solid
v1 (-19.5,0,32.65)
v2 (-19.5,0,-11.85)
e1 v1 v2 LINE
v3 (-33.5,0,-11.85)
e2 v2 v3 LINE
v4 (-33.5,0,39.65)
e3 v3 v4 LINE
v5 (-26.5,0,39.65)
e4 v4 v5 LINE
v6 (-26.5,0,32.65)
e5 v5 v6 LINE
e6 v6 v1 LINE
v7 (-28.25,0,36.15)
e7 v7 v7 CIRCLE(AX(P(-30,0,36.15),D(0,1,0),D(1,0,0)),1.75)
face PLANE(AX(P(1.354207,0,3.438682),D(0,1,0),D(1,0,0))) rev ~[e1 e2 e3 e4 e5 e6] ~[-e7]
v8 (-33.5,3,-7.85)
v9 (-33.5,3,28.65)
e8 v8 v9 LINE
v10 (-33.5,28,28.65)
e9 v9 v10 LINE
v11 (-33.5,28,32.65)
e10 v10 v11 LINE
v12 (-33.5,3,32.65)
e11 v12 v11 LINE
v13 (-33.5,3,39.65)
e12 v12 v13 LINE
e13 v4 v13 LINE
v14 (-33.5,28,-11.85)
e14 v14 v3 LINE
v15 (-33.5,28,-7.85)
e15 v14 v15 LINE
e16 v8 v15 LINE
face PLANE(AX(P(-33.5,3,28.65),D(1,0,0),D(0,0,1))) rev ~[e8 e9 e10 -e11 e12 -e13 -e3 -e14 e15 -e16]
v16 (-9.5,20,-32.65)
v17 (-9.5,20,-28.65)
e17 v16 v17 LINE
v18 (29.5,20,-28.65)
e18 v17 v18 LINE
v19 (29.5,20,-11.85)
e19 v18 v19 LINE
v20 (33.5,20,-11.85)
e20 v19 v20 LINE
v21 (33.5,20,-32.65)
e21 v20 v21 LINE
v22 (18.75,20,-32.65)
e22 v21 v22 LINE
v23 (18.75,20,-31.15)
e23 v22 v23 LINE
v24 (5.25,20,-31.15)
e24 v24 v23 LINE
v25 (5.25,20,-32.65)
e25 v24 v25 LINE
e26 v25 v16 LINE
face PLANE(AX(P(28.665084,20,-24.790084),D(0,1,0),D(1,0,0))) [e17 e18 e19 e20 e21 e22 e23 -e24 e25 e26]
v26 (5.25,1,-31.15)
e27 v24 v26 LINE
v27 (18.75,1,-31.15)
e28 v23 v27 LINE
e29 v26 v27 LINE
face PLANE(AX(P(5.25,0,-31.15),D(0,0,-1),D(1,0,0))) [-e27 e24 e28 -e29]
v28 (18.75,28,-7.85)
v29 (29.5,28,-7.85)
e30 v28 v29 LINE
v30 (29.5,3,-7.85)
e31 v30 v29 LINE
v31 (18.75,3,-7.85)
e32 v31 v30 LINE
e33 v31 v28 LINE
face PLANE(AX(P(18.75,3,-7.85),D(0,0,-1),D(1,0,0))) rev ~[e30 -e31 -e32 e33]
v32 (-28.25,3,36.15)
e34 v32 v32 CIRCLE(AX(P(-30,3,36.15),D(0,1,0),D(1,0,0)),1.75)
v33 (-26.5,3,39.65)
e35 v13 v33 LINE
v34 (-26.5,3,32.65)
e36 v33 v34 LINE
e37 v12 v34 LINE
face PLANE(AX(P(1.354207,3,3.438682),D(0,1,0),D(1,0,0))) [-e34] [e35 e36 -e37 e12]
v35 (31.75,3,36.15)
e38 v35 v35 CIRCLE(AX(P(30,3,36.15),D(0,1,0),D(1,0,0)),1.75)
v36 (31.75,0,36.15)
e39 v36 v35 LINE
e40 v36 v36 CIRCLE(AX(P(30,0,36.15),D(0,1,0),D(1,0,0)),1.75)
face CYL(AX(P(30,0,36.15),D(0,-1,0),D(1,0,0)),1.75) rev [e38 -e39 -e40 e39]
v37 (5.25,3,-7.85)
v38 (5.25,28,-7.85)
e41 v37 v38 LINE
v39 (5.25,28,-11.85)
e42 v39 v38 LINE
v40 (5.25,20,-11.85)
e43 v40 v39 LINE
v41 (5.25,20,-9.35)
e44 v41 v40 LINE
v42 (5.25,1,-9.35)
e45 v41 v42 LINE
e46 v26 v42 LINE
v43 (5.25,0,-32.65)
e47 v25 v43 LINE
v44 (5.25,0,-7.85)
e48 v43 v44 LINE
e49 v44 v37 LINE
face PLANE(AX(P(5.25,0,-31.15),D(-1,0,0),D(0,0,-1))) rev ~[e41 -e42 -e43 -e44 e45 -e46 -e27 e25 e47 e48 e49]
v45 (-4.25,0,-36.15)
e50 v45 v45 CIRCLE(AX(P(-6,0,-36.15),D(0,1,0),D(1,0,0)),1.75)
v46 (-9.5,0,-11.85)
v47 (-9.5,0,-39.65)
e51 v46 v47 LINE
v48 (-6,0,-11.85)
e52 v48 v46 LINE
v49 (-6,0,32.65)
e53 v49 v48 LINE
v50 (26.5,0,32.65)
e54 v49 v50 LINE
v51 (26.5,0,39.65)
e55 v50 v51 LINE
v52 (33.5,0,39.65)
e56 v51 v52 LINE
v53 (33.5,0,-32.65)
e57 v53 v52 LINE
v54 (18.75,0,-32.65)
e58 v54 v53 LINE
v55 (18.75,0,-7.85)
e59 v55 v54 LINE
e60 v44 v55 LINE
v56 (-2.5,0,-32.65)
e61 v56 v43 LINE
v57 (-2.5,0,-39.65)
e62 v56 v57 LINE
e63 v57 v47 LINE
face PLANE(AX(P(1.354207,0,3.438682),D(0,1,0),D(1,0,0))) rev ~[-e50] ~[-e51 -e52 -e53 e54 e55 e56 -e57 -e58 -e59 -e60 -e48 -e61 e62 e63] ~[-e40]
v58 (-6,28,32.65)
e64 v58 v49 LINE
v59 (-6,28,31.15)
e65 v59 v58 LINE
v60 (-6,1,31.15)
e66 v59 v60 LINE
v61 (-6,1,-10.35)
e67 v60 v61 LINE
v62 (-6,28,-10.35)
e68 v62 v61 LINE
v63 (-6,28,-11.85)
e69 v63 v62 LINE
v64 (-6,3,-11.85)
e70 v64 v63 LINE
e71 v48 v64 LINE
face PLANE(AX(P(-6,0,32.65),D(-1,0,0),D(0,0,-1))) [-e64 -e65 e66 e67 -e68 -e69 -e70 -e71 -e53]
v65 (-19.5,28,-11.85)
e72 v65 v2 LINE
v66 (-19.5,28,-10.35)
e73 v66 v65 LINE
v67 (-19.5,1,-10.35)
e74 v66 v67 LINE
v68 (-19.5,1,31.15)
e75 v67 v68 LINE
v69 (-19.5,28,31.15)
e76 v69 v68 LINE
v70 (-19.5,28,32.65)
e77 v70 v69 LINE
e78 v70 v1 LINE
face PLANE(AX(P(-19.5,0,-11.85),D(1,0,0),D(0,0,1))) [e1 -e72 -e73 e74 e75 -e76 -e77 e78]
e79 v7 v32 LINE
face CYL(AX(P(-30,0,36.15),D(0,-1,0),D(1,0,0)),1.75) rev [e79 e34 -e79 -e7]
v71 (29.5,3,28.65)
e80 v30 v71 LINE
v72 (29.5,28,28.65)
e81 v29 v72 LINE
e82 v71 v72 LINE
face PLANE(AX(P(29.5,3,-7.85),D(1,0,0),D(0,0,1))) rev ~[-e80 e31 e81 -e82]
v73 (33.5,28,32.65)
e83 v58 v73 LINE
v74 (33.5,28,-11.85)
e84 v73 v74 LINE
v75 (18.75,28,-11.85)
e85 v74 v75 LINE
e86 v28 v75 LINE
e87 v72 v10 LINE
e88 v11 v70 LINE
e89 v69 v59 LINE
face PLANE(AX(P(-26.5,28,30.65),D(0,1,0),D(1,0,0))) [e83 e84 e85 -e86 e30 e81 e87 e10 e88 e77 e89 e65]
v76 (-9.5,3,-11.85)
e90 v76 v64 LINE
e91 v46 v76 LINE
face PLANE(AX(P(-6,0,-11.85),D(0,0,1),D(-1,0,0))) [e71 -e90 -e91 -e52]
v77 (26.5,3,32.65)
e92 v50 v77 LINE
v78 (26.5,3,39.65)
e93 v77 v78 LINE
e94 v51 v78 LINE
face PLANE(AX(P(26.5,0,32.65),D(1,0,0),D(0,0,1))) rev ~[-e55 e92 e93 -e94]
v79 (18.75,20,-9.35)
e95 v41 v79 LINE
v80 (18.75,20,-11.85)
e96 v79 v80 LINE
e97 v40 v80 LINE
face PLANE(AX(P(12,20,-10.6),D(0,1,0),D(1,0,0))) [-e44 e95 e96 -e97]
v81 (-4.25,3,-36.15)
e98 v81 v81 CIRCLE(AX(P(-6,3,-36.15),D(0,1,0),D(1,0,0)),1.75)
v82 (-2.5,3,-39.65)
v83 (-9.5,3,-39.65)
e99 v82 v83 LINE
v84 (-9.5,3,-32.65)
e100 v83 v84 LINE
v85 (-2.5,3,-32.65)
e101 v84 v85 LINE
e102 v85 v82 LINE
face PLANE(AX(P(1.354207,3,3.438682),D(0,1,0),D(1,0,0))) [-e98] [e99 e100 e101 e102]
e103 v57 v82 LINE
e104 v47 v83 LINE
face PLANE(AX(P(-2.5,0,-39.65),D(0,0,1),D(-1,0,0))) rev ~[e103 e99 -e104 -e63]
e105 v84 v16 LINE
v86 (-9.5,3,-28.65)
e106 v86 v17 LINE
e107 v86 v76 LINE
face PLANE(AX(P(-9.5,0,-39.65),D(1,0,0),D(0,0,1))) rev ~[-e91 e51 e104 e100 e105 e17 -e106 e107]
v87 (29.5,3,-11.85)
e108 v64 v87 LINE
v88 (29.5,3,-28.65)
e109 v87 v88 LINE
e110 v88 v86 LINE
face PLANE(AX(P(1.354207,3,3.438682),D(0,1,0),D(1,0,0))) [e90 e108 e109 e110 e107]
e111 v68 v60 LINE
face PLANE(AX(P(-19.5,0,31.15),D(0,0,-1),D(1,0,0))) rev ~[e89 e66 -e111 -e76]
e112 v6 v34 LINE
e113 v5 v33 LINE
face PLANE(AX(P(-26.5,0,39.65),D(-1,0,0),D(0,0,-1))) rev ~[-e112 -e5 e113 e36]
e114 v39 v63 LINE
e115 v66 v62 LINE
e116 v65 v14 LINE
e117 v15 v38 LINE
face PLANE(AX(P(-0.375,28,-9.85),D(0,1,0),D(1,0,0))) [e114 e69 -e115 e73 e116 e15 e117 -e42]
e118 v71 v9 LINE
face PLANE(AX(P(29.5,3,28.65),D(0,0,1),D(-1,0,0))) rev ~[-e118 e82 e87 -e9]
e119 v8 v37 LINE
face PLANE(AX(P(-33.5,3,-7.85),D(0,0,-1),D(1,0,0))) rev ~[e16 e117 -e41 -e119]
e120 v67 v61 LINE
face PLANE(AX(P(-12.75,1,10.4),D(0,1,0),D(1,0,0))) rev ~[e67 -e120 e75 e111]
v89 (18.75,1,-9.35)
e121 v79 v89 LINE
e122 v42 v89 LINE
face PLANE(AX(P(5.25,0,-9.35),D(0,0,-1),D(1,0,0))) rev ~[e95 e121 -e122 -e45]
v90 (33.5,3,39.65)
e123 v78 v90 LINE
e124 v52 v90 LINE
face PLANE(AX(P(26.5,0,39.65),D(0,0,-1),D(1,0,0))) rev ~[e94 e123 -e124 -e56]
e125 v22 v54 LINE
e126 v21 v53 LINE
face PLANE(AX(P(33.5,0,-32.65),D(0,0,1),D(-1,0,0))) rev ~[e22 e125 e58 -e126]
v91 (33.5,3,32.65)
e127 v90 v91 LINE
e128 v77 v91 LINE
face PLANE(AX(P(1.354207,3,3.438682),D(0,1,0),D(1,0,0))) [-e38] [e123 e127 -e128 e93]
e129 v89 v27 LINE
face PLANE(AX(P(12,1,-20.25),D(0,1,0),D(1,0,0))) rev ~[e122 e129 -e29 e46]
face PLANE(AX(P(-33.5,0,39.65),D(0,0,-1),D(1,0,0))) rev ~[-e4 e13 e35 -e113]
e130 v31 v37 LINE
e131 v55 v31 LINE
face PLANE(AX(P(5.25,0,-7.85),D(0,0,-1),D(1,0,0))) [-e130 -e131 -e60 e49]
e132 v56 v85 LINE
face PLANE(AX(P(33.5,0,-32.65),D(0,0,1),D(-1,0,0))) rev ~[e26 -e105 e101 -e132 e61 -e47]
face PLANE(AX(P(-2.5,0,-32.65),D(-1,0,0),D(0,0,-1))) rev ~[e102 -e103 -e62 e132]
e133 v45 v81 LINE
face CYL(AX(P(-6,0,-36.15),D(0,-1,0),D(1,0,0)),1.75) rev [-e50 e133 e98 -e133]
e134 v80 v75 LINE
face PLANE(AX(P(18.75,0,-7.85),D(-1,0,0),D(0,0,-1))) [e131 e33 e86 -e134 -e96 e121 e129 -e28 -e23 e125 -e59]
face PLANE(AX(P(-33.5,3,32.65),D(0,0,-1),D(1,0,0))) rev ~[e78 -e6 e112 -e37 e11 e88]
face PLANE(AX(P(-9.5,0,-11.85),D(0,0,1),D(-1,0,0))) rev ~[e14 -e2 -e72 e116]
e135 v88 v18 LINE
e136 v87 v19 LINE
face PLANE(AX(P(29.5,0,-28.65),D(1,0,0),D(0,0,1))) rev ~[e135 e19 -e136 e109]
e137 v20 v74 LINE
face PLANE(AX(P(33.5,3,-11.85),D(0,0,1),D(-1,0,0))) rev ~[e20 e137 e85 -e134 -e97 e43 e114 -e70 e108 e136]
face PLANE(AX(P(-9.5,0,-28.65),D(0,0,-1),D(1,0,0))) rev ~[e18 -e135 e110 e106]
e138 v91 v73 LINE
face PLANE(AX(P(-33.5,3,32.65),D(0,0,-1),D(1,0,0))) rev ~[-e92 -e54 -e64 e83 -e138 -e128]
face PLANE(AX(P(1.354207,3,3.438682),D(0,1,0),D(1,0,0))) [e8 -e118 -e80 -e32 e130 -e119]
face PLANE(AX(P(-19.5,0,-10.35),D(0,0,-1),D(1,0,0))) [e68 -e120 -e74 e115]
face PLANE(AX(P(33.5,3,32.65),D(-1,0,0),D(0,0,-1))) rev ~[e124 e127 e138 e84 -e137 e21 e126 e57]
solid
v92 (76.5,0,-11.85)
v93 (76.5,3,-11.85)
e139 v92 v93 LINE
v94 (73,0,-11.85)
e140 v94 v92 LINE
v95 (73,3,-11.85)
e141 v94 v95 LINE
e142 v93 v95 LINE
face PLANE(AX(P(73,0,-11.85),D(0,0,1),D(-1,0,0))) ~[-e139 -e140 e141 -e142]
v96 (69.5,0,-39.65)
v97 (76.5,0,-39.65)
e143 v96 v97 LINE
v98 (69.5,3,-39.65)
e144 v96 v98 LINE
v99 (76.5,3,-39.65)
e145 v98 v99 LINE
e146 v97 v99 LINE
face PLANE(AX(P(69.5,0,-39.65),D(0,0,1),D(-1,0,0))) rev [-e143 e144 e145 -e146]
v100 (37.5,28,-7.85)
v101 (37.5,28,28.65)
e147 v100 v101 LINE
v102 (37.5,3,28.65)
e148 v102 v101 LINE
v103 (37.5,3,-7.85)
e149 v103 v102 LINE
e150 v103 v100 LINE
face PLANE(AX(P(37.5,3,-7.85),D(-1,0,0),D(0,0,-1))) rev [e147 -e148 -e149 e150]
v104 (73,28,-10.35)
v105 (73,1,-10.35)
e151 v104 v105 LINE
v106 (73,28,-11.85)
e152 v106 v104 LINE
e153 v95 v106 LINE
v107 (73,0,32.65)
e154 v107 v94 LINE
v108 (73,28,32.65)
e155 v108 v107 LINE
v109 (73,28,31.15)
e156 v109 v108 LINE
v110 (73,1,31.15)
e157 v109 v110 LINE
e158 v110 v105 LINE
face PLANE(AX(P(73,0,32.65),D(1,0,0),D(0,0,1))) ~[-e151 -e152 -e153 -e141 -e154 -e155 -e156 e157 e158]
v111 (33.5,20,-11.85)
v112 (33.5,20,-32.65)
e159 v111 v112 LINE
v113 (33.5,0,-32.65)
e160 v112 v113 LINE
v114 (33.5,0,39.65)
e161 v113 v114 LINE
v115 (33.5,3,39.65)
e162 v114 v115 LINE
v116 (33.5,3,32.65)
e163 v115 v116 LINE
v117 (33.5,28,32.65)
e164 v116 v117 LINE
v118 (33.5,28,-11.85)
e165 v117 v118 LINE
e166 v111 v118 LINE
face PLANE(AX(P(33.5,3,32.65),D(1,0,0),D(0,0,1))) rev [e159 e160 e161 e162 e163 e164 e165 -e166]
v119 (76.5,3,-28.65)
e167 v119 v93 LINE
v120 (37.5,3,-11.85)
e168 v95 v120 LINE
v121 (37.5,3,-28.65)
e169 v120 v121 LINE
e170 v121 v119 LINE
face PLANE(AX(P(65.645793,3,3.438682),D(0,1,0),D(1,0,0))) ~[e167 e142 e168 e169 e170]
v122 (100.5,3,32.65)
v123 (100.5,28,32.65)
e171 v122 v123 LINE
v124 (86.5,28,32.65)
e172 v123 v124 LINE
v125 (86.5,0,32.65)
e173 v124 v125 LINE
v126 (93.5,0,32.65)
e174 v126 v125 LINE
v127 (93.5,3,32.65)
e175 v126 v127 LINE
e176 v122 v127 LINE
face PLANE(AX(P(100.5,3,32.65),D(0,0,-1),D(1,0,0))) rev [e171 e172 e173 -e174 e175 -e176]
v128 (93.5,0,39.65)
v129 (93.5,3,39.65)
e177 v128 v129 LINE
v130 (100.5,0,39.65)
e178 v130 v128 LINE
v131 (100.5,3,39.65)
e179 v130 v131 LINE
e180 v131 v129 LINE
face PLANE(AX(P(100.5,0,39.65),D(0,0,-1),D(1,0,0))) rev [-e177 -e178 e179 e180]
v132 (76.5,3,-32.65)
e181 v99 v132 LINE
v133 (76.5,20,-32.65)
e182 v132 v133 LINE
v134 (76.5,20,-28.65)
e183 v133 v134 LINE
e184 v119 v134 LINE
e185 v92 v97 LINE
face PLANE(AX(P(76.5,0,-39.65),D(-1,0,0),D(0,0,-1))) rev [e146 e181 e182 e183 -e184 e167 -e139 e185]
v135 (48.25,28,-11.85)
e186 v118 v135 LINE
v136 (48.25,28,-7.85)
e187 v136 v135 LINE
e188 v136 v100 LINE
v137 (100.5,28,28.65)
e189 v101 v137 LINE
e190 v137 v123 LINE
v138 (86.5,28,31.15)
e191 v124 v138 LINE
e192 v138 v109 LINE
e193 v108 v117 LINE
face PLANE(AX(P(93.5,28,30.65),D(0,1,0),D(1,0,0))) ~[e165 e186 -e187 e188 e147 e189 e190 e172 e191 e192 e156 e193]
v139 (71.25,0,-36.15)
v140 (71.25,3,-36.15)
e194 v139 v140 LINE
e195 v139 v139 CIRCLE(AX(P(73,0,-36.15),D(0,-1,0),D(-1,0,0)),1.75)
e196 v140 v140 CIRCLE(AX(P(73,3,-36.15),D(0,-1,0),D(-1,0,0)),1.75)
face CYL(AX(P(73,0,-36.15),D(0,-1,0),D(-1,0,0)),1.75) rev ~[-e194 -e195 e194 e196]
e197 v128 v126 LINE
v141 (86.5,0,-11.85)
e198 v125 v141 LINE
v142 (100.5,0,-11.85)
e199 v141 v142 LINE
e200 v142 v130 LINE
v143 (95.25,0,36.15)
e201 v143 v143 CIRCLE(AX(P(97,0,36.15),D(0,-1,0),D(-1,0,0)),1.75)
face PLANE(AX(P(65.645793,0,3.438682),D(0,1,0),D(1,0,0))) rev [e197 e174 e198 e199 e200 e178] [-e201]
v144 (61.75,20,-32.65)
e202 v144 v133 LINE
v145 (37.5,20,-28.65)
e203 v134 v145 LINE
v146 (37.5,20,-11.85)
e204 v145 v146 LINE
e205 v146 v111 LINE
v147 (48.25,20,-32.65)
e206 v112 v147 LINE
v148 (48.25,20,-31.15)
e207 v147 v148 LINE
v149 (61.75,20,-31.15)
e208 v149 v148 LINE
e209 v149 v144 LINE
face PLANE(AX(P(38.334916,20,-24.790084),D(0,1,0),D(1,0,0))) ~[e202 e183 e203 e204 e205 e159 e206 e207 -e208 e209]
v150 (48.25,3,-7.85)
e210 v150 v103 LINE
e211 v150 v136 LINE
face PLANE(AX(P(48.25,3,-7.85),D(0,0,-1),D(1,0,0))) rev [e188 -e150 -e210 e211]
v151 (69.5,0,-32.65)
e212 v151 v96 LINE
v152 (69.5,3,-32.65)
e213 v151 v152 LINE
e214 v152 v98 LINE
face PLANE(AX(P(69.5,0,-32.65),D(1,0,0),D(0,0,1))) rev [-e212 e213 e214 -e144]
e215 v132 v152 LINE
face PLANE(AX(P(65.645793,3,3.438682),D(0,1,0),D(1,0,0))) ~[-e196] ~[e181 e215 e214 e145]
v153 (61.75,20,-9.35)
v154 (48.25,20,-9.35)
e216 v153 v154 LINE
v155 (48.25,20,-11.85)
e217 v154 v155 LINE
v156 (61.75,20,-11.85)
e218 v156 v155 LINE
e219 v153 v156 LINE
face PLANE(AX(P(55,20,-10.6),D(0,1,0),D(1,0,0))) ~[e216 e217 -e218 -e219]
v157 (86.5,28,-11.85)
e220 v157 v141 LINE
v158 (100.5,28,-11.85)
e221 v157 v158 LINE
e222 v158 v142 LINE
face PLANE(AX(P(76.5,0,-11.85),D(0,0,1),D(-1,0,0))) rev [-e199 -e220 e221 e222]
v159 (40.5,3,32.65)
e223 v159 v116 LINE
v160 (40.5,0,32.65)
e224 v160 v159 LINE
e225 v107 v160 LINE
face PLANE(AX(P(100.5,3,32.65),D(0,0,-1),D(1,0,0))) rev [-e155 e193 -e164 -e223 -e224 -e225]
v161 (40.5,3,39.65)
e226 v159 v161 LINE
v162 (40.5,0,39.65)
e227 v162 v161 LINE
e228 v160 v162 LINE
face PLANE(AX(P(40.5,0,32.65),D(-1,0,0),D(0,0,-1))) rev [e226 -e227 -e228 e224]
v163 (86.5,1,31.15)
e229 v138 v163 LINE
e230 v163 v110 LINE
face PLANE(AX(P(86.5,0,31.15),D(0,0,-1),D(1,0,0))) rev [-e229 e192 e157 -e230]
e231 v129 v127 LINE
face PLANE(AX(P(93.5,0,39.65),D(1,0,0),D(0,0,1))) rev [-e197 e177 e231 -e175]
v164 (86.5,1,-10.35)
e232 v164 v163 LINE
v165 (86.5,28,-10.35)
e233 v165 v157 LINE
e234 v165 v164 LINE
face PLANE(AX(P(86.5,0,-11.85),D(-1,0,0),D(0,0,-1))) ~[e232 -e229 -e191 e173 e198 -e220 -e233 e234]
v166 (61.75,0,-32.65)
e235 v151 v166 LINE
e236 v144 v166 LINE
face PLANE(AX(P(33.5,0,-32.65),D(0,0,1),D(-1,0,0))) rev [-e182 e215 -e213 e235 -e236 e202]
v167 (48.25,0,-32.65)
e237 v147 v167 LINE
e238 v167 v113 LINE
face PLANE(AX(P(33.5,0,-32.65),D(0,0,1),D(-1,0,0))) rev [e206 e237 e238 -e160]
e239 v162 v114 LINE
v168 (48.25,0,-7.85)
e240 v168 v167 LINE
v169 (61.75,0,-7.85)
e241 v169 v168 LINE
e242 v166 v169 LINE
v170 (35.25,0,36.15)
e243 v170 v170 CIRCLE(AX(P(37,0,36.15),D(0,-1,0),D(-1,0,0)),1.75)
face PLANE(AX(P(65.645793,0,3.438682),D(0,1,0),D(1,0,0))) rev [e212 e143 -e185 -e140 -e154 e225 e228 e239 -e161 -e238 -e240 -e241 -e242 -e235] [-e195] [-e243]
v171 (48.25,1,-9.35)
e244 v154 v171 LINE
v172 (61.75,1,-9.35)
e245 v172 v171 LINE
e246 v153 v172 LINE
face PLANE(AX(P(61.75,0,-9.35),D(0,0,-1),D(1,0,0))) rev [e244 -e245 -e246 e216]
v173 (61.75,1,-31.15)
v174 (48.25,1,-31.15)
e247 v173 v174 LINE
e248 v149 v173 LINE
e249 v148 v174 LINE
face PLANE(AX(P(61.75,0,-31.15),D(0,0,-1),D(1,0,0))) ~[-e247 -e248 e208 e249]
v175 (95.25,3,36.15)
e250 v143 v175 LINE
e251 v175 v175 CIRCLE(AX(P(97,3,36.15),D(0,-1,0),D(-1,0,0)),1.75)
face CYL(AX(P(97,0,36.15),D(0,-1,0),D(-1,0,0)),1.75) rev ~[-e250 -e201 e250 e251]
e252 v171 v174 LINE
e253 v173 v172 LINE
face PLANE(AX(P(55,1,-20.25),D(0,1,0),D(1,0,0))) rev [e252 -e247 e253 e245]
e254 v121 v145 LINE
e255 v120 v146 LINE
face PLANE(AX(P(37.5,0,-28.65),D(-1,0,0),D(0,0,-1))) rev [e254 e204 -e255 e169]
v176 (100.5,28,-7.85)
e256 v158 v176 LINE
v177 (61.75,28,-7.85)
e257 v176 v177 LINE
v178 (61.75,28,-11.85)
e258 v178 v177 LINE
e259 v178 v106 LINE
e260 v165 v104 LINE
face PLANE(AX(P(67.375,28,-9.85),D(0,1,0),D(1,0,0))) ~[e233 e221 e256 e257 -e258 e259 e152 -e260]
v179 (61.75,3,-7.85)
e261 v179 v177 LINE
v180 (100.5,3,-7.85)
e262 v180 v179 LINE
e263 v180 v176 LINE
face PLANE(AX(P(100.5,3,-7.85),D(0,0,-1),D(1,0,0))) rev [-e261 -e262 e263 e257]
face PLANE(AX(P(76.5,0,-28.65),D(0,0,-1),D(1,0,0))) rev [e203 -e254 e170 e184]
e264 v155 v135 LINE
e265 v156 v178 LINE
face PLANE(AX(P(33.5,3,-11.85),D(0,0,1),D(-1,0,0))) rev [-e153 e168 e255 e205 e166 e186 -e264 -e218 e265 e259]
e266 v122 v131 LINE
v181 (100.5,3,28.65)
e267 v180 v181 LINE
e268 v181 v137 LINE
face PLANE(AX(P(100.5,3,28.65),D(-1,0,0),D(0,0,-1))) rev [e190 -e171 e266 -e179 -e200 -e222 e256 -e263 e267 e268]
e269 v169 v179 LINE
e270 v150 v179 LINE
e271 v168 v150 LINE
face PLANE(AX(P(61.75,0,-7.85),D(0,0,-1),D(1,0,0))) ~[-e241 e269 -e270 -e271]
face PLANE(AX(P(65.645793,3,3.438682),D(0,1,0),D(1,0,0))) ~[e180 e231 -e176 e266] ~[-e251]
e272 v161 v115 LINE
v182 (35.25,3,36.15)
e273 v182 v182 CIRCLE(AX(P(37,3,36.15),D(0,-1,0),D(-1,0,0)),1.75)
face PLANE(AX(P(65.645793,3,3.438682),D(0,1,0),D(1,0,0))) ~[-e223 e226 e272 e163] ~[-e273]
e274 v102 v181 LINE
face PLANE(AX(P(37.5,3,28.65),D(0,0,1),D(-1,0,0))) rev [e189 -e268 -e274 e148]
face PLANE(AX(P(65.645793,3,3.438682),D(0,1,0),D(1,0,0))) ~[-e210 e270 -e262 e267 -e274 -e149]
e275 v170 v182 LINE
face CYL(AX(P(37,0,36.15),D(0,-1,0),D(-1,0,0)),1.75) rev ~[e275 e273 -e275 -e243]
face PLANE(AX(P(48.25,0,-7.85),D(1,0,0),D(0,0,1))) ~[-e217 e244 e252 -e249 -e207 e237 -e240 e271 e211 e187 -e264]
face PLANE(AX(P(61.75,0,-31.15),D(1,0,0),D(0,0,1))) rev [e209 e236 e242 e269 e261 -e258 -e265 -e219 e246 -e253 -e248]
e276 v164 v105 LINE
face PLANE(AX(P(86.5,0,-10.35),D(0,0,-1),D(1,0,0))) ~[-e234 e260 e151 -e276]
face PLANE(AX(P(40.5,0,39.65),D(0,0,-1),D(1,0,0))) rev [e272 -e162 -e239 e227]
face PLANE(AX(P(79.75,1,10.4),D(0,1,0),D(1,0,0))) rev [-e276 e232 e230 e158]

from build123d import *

# Parameters (mm, degrees)
SKETCH1_R               = 1.75
BOSS_EXTRUDE1_DEPTH     = 3
BOSS_EXTRUDE2_START     = 3
SKETCH1_5_W             = 13.5
SKETCH1_5_H             = 2.5
BOSS_EXTRUDE2_DEPTH     = 25
SKETCH1_6_W             = 13.5
SKETCH1_6_H             = 2.5
BOSS_EXTRUDE3_DEPTH     = 20
SKETCH1_7_W             = 13.5
SKETCH1_7_H             = 1.5
CUT_EXTRUDE1_DEPTH      = 29
CUT_EXTRUDE1_DEPTH_BACK = 1
SKETCH1_8_W             = 13.5
SKETCH1_8_H             = 16.8
SKETCH1_8_H_2           = 2.5
SKETCH1_8_H_3           = 36.5
CUT_EXTRUDE2_DEPTH      = 1


with BuildPart() as part:
    # Sketch1 → Boss-Extrude1 (new body)
    with BuildSketch(Plane(origin=(0, 0, 0), x_dir=(1, 0, 0), z_dir=(0, 1, 0))):
        Polygon((-33.5, 11.85), (-33.5, -39.65), (-26.5, -39.65), (-26.5, -32.65), (26.5, -32.65), (26.5, -39.65), (33.5, -39.65), (33.5, 32.65), (-2.5, 32.65), (-2.5, 39.65), (-9.5, 39.65), (-9.5, 11.85), align=None)
        with Locations((-30, -36.15)):
            Circle(SKETCH1_R, mode=Mode.SUBTRACT)
        with Locations((30, -36.15)):
            Circle(SKETCH1_R, mode=Mode.SUBTRACT)
        with Locations((-6, 36.15)):
            Circle(SKETCH1_R, mode=Mode.SUBTRACT)
    extrude(amount=BOSS_EXTRUDE1_DEPTH)

    # Sketch1<5> → Boss-Extrude2 (add)
    with BuildSketch(Plane(origin=(0, 0, 0), x_dir=(1, 0, 0), z_dir=(0, 1, 0)).offset(BOSS_EXTRUDE2_START)):
        Polygon((-19.5, -31.15), (-19.5, -28.65), (-33.5, -28.65), (-33.5, -32.65), (-26.5, -32.65), (-19.5, -32.65), align=None)
        with Locations((-12.75, -29.9)):
            Rectangle(SKETCH1_5_W, SKETCH1_5_H)
        Polygon((18.75, 9.35), (18.75, 7.85), (29.5, 7.85), (29.5, -28.65), (-6, -28.65), (-6, -31.15), (-6, -32.65), (26.5, -32.65), (33.5, -32.65), (33.5, 11.85), (29.5, 11.85), (18.75, 11.85), align=None)
        Polygon((-6, 7.85), (5.25, 7.85), (5.25, 9.35), (5.25, 11.85), (-6, 11.85), (-6, 10.35), align=None)
        with Locations((-12.75, 9.1)):
            Rectangle(SKETCH1_5_W, SKETCH1_5_H)
        Polygon((-33.5, 7.85), (-19.5, 7.85), (-19.5, 10.35), (-19.5, 11.85), (-33.5, 11.85), align=None)
    extrude(amount=BOSS_EXTRUDE2_DEPTH)

    # Sketch1<6> → Boss-Extrude3 (add)
    with BuildSketch(Plane(origin=(0, 0, 0), x_dir=(1, 0, 0), z_dir=(0, 1, 0))):
        Polygon((29.5, 28.65), (29.5, 11.85), (33.5, 11.85), (33.5, 32.65), (18.75, 32.65), (18.75, 31.15), (18.75, 28.65), align=None)
        Polygon((-9.5, 28.65), (5.25, 28.65), (5.25, 31.15), (5.25, 32.65), (-2.5, 32.65), (-9.5, 32.65), align=None)
        with Locations((12, 29.9)):
            Rectangle(SKETCH1_6_W, SKETCH1_6_H)
        with Locations((12, 10.6)):
            Rectangle(SKETCH1_6_W, SKETCH1_6_H)
    extrude(amount=BOSS_EXTRUDE3_DEPTH)

    # Sketch1<7> → Cut-Extrude1 (cut, two sides)
    with BuildSketch(Plane(origin=(0, 0, 0), x_dir=(1, 0, 0), z_dir=(0, 1, 0))) as cut_extrude1_sk:
        with Locations((12, 31.9)):
            Rectangle(SKETCH1_7_W, SKETCH1_7_H)
        with Locations((12, 8.6)):
            Rectangle(SKETCH1_7_W, SKETCH1_7_H)
        Polygon((-19.5, 10.35), (-6, 10.35), (-6, 11.85), (-9.5, 11.85), (-19.5, 11.85), align=None)
        with Locations((-12.75, -31.9)):
            Rectangle(SKETCH1_7_W, SKETCH1_7_H)
    extrude(amount=CUT_EXTRUDE1_DEPTH, mode=Mode.SUBTRACT)
    extrude(cut_extrude1_sk.sketch, amount=-CUT_EXTRUDE1_DEPTH_BACK, mode=Mode.SUBTRACT)

    # Sketch1<8> → Cut-Extrude2 (cut)
    with BuildSketch(Plane(origin=(0, 0, 0), x_dir=(1, 0, 0), z_dir=(0, 1, 0))):
        with Locations((12, 20.25)):
            Rectangle(SKETCH1_8_W, SKETCH1_8_H)
        with Locations((12, 29.9)):
            Rectangle(SKETCH1_8_W, SKETCH1_8_H_2)
        with Locations((12, 10.6)):
            Rectangle(SKETCH1_8_W, SKETCH1_8_H_2)
        with Locations((-12.75, -10.4)):
            Rectangle(SKETCH1_8_W, SKETCH1_8_H_3)
        with Locations((-12.75, 9.1)):
            Rectangle(SKETCH1_8_W, SKETCH1_8_H_2)
        with Locations((-12.75, -29.9)):
            Rectangle(SKETCH1_8_W, SKETCH1_8_H_2)
    extrude(amount=CUT_EXTRUDE2_DEPTH, mode=Mode.SUBTRACT)


with BuildPart() as body_2:
    # Mirror1: mirrored copy
    add(part.part.mirror(Plane(origin=(33.5, 3, 0), x_dir=(0, 0, 1), z_dir=(-1, 0, 0))))


solid = Compound([part.part, body_2.part])
